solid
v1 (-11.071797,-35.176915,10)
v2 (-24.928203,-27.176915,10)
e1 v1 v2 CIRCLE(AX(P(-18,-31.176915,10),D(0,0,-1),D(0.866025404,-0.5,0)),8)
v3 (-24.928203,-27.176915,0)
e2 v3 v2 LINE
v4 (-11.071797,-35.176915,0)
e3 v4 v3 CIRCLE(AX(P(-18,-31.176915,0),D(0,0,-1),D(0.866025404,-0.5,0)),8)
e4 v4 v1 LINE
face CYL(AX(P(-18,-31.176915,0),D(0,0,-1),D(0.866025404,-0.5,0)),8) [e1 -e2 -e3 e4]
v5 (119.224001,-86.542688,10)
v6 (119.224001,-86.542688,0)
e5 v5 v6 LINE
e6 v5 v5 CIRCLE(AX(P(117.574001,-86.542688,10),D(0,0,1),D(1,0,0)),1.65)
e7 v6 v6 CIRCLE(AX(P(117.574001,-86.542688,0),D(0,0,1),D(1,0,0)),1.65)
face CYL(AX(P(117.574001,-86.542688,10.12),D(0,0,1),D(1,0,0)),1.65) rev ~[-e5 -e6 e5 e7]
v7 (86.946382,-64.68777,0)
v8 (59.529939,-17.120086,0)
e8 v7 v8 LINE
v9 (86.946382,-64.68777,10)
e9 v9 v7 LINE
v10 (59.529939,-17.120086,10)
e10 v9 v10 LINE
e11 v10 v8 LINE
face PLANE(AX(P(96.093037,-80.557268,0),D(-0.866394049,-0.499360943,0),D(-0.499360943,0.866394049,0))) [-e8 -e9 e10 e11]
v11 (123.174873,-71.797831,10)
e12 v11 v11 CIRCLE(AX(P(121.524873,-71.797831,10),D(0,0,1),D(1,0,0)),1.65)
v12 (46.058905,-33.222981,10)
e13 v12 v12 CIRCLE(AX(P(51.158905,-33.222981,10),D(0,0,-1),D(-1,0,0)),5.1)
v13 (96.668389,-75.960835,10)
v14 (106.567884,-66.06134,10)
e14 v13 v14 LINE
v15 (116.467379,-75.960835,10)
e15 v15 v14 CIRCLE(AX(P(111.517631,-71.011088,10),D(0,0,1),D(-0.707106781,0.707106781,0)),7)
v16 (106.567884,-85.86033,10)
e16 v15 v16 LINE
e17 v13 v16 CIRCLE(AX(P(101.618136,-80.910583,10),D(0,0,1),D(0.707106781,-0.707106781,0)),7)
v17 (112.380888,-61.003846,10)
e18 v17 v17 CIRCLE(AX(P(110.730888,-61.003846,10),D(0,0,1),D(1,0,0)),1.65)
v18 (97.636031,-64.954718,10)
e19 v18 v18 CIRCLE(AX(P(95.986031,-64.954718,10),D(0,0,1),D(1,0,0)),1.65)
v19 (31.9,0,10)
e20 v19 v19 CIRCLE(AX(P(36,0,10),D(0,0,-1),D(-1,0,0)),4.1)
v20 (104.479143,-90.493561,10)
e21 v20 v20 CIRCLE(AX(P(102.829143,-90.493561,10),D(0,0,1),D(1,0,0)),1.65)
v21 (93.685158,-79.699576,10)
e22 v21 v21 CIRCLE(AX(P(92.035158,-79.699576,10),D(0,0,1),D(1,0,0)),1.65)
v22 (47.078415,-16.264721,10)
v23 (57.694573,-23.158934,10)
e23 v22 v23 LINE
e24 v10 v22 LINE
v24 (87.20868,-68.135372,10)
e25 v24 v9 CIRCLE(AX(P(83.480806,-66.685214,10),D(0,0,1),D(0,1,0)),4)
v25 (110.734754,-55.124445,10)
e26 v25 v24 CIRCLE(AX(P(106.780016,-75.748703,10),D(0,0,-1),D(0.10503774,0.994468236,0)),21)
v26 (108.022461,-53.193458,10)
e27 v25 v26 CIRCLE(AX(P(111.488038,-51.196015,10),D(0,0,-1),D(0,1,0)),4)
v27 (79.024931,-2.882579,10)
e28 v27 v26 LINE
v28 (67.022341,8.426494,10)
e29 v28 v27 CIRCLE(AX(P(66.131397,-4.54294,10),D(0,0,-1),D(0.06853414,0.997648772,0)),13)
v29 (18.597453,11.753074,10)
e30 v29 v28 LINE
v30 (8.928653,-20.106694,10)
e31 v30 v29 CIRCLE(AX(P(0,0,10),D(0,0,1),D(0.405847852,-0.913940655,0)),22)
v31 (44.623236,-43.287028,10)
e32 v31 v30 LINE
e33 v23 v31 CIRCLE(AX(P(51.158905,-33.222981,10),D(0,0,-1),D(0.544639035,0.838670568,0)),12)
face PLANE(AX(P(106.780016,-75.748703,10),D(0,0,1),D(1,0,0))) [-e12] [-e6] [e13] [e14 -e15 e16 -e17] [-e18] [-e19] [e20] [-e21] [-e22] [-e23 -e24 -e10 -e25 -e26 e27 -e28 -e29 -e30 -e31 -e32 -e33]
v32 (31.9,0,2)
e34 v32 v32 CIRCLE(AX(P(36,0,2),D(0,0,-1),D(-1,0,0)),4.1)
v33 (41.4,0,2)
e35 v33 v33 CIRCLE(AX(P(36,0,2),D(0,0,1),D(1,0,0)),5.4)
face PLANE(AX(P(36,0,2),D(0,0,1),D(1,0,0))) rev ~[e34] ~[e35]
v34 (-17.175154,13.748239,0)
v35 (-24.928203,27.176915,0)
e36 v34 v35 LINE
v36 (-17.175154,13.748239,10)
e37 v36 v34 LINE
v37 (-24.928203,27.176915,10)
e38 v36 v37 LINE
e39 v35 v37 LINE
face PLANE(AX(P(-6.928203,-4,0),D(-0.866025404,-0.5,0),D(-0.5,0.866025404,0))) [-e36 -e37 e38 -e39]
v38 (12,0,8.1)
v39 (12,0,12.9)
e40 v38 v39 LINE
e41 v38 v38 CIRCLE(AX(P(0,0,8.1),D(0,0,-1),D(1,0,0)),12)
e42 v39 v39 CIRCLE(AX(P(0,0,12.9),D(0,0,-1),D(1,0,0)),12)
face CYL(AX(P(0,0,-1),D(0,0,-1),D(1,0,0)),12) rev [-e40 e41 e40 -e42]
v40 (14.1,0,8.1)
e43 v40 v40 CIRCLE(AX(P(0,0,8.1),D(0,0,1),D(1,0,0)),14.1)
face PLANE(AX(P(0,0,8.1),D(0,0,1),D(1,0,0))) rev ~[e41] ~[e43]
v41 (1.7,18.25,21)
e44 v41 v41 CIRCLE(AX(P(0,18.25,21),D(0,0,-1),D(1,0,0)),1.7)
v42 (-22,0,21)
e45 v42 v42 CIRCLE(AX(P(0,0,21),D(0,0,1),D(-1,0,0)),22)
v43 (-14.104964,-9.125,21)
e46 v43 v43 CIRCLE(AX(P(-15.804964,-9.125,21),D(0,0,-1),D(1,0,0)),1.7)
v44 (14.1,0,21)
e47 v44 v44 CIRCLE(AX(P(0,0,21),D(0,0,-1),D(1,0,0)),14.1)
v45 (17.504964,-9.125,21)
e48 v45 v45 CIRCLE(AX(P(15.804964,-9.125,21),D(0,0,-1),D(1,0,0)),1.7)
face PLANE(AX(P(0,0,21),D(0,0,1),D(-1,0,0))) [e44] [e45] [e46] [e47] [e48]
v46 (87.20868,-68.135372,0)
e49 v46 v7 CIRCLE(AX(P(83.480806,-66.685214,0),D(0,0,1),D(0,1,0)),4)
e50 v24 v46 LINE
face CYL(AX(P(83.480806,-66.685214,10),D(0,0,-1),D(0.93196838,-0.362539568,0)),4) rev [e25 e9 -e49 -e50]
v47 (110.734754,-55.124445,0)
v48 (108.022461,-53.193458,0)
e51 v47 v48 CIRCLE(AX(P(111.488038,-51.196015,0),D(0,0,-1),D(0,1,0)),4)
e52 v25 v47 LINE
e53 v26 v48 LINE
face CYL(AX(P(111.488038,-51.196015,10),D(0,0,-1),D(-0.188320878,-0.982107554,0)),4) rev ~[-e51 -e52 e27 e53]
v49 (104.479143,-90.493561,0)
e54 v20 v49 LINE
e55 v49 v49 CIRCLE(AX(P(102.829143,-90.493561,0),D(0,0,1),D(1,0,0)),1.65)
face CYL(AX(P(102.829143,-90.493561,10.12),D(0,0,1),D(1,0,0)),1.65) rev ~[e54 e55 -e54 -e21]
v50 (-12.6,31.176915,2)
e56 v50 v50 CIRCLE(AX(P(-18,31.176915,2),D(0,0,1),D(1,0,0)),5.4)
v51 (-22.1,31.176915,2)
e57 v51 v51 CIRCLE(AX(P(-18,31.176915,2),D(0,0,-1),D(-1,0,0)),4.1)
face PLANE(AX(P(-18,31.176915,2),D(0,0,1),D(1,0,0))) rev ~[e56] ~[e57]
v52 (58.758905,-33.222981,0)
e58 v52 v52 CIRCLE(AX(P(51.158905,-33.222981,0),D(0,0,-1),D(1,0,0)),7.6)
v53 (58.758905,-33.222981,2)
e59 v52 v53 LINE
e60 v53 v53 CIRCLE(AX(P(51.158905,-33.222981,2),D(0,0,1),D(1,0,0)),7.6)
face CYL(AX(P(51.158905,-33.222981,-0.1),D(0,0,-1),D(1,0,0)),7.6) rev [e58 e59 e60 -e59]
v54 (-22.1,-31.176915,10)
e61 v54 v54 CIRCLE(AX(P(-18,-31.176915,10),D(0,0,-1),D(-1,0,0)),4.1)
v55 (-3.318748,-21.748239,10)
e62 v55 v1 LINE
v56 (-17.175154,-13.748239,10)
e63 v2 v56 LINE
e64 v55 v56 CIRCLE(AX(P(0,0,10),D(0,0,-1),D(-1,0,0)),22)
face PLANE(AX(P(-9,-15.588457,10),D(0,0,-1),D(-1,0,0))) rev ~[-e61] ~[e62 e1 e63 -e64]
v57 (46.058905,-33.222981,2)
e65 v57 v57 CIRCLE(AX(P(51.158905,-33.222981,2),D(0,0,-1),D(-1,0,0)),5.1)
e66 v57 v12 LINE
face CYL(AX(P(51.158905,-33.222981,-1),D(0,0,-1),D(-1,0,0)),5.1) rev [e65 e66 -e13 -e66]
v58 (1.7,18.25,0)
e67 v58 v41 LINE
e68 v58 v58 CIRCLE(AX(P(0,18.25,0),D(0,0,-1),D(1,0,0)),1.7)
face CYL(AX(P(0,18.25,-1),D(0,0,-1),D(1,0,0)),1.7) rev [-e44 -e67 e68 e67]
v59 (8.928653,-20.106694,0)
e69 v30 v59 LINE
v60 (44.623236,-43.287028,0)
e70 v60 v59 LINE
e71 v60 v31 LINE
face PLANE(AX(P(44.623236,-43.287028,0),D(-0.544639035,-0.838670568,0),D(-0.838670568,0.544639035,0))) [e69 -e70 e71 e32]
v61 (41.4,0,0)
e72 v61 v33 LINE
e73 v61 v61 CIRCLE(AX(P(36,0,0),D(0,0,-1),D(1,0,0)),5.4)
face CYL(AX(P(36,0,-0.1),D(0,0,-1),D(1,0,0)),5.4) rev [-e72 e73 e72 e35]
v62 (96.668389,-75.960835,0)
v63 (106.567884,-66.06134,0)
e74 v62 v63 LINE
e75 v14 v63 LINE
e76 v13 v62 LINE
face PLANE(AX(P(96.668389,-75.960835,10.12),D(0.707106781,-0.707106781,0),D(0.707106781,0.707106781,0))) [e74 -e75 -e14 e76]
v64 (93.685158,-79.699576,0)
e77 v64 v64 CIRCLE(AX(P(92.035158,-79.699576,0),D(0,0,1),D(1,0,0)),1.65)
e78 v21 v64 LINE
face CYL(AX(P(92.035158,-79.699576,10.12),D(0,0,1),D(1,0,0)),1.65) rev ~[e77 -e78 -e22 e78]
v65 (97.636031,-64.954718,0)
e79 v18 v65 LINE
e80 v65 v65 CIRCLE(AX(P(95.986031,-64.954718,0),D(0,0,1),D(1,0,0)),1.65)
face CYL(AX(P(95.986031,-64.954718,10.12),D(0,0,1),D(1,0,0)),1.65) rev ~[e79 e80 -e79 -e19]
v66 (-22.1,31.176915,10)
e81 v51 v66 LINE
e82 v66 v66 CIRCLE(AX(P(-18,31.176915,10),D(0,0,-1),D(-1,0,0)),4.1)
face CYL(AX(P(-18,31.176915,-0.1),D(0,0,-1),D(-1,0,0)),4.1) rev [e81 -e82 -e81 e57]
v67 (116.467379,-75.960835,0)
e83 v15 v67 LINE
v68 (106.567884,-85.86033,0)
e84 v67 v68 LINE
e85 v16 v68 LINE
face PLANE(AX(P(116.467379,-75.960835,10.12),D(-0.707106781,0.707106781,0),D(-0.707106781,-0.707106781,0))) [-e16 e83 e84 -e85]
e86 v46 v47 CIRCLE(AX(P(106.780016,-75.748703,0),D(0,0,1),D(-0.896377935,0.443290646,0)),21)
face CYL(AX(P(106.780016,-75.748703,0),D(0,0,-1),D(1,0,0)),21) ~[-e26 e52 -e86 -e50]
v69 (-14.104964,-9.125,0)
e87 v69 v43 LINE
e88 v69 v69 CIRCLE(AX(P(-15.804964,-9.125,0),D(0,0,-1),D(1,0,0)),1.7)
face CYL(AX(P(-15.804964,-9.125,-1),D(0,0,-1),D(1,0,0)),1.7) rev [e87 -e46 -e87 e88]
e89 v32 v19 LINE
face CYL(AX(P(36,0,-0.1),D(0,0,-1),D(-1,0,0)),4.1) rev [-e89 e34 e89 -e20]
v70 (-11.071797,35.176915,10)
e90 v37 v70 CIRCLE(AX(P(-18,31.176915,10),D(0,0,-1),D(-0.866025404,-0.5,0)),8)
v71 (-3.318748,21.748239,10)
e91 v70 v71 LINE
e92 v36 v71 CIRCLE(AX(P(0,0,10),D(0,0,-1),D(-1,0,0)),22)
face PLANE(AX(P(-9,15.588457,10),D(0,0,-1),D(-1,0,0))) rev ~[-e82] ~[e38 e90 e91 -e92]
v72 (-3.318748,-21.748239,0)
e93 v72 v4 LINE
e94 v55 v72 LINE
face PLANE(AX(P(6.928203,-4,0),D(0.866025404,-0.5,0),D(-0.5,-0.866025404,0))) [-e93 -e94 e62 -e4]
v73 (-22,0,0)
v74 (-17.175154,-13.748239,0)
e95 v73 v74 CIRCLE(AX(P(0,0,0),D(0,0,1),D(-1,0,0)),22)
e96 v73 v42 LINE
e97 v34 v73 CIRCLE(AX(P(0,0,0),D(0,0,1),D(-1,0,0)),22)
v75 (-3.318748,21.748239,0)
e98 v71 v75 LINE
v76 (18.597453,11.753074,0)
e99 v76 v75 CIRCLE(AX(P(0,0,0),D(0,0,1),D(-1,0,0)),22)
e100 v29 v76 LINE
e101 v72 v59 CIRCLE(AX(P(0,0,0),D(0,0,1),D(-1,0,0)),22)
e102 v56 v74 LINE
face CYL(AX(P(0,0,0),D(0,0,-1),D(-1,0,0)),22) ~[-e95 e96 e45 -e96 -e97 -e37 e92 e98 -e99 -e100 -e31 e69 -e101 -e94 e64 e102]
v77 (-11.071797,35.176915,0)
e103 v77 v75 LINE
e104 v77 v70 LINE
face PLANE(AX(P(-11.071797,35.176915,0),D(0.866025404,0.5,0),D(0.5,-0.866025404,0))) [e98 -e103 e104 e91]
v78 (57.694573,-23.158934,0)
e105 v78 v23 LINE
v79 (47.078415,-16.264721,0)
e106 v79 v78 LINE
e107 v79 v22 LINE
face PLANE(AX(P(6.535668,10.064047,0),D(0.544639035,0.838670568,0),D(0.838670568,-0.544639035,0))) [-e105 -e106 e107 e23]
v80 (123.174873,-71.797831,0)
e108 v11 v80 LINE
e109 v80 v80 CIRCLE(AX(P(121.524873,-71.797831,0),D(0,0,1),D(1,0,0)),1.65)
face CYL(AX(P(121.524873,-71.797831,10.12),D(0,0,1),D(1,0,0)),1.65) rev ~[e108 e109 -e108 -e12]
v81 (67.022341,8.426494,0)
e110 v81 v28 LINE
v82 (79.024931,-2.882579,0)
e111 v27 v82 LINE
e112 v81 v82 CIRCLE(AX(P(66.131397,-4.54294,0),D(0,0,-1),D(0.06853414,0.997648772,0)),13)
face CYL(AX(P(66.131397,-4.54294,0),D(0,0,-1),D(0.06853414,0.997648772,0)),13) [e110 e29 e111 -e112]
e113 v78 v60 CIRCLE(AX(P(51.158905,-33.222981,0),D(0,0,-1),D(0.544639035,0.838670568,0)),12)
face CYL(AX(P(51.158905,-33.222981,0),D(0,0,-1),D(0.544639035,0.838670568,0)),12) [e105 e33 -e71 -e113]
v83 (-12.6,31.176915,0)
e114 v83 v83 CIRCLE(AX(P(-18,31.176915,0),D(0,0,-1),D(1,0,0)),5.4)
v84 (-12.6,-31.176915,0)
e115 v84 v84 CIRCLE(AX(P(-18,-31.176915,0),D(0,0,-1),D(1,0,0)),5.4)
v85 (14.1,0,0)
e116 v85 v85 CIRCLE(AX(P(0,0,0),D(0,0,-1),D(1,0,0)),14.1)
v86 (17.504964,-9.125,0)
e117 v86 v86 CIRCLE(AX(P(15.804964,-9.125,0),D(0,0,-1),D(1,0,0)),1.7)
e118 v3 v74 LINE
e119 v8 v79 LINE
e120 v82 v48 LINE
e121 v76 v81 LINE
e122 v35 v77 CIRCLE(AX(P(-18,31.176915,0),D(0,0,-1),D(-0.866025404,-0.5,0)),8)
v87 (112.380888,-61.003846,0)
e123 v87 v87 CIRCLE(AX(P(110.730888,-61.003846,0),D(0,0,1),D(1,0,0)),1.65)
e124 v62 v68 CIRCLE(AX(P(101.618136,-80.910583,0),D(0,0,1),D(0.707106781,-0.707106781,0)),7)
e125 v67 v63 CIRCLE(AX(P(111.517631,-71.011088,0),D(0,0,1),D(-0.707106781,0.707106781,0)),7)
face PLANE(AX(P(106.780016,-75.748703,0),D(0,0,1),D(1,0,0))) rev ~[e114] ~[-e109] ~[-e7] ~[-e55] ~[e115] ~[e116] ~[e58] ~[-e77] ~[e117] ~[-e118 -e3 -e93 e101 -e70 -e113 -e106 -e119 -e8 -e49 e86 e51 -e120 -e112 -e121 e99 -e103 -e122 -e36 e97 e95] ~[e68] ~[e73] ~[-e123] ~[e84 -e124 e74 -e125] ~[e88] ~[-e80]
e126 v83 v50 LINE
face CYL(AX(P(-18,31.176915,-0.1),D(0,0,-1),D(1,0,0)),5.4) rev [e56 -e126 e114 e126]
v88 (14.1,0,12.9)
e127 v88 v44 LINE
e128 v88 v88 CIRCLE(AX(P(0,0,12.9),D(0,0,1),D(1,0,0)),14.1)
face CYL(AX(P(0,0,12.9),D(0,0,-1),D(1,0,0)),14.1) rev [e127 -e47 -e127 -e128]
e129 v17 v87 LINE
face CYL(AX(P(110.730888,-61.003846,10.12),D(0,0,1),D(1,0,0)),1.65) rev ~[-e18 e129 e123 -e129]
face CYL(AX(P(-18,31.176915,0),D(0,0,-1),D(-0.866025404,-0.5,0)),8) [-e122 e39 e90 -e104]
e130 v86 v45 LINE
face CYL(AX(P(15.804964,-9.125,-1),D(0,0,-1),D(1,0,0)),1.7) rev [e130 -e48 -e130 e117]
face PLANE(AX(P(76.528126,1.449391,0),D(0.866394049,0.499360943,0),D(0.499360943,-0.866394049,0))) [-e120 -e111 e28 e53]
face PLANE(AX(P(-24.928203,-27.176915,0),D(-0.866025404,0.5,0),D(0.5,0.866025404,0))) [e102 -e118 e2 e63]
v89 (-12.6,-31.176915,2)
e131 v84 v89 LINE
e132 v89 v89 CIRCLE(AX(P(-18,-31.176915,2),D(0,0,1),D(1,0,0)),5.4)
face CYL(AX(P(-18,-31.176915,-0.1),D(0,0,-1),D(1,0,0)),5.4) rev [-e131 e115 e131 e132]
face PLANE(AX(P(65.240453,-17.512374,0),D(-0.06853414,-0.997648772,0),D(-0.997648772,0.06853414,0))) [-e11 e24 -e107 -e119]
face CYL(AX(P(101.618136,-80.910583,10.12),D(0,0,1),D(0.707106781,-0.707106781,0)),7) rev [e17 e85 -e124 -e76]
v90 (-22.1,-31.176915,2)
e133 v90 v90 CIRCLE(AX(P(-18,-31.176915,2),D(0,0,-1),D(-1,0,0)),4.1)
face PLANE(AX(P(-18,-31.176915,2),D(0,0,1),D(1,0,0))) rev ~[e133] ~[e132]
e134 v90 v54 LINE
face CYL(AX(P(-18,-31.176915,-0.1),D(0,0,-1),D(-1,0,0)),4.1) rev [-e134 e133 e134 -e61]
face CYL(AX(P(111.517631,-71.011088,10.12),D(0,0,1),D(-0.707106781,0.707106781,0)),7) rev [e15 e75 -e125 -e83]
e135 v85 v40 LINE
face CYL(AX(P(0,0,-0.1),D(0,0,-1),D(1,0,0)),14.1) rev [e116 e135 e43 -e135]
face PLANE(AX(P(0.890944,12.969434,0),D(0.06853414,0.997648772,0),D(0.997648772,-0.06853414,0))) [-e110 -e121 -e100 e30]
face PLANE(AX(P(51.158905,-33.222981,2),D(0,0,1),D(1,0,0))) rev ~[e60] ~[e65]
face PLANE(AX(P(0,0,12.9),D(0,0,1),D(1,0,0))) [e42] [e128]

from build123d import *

# Parameters (mm, degrees)
S01_BEARING_BARREL_R                             = 22
F_01_BEARING_BARREL_DEPTH                        = 21
F_02_TORQUE_ARM_1_DEPTH                          = 10
F_03_TORQUE_ARM_2_DEPTH                          = 10
F_04_TORQUE_ARM_3_DEPTH                          = 10
F_05_WHEEL_ARM_ROOT_TO_ROUNDED_ELBOW_DEPTH       = 10
F_06_LONG_DROPPED_WHEEL_ARM_DEPTH                = 10
F_07_BROAD_CAM_FOLLOWER_MOUNTING_LUG_DEPTH       = 10
F_08_START                                       = -1
S08_BEARING_THROUGH_RELIEF_R                     = 12
F_08_BEARING_THROUGH_RELIEF_DEPTH                = 23
F_09_START                                       = -0.1
S09_INBOARD_6001_SEAT_R                          = 14.1
F_09_INBOARD_6001_SEAT_DEPTH                     = 8.2
F_10_START                                       = 12.9
S10_OUTBOARD_6001_SEAT_R                         = 14.1
F_10_OUTBOARD_6001_SEAT_DEPTH                    = 8.2
F_11_START                                       = -1
S11_KEEPER_SCREWS_R                              = 1.7
F_11_KEEPER_SCREWS_DEPTH                         = 23
F_12_START                                       = -1
S12_TORQUE_PIN_RETAINING_STEMS_R                 = 3.25
F_12_TORQUE_PIN_RETAINING_STEMS_DEPTH            = 12
F_19_START                                       = -1
S19_THROUGH_BORE_FOR_STEEL_FOLLOWER_BU_R         = 5.1
F_19_THROUGH_BORE_FOR_STEEL_FOLLOWER_BUS_DEPTH   = 12
F_20_START                                       = -0.1
S20_FLUSH_SEAT_FOR_BUSH_FLANGE_R                 = 7.6
F_20_FLUSH_SEAT_FOR_BUSH_FLANGE_DEPTH            = 2.1
FLAT_MOTOR_MOUNTING_PAD_LAYOUT_R                 = 21
FLAT_MOTOR_MOUNTING_PAD_DEPTH                    = 10
R4_BLENDS_FROM_ARM_INTO_MOTOR_PAD_R              = 4
F_28_START                                       = 10.12
F_28_X_14_CLOSED_THROUGH_SLOT_FOR_MOTOR_OU_DEPTH = 10.24
SIX_START                                        = 10.12
SIX_CLEARANCE_HOLES_FROM_JOHNSON_MOT_2_R         = 1.65
SIX_CLEARANCE_HOLES_FROM_JOHNSON_MOTOR_F_DEPTH   = 10.24
F_01_START                                       = -0.1
S01_PRINTED_DRIVE_PIN_PILOT_BORES_R              = 4.1
F_01_PRINTED_DRIVE_PIN_PILOT_BORES_DEPTH         = 10.2
F_02_START                                       = -0.1
S02_FLUSH_SEATS_FOR_DRIVE_PIN_SHOULDER_R         = 5.4
F_02_FLUSH_SEATS_FOR_DRIVE_PIN_SHOULDERS_DEPTH   = 2.1


with BuildPart() as part:
    # S01 - Bearing barrel → 01 - Bearing barrel (new body)
    with BuildSketch(Plane.XY):
        Circle(S01_BEARING_BARREL_R)
    extrude(amount=F_01_BEARING_BARREL_DEPTH)

    # S02 - Torque arm 1 → 02 - Torque arm 1 (add)
    with BuildSketch(Plane.XY):
        with BuildLine():
            Line((0, 8), (36, 8))
            ThreePointArc((36, 8), (44, 0), (36, -8))
            Line((36, -8), (0, -8))
            ThreePointArc((0, -8), (-8, 0), (0, 8))
        make_face()
    extrude(amount=F_02_TORQUE_ARM_1_DEPTH)

    # S03 - Torque arm 2 → 03 - Torque arm 2 (add)
    with BuildSketch(Plane.XY):
        with BuildLine():
            Line((-6.92820323, -4), (-24.92820323, 27.176914536))
            ThreePointArc((-24.92820323, 27.176914536), (-22, 38.105117767), (-11.07179677, 35.176914536))
            Line((-11.07179677, 35.176914536), (6.92820323, 4))
            ThreePointArc((6.92820323, 4), (4, -6.92820323), (-6.92820323, -4))
        make_face()
    extrude(amount=F_03_TORQUE_ARM_2_DEPTH)

    # S04 - Torque arm 3 → 04 - Torque arm 3 (add)
    with BuildSketch(Plane.XY):
        with BuildLine():
            Line((6.92820323, -4), (-11.07179677, -35.176914536))
            ThreePointArc((-11.07179677, -35.176914536), (-22, -38.105117767), (-24.92820323, -27.176914536))
            Line((-24.92820323, -27.176914536), (-6.92820323, 4))
            ThreePointArc((-6.92820323, 4), (4, 6.92820323), (6.92820323, -4))
        make_face()
    extrude(amount=F_04_TORQUE_ARM_3_DEPTH)

    # S05 - Wheel arm root to rounded elbow → 05 - Wheel arm root to rounded elbow (add)
    with BuildSketch(Plane.XY):
        with BuildLine():
            Line((0.890943823, 12.969434032), (67.022341031, 8.426494092))
            ThreePointArc((67.022341031, 8.426494092), (79.10083124, -5.433883763), (65.240453385, -17.512373972))
            Line((65.240453385, -17.512373972), (-0.890943823, -12.969434032))
            ThreePointArc((-0.890943823, -12.969434032), (-12.969434032, 0.890943823), (0.890943823, 12.969434032))
        make_face()
    extrude(amount=F_05_WHEEL_ARM_ROOT_TO_ROUNDED_ELBOW_DEPTH)

    # S06 - Long dropped wheel arm → 06 - Long dropped wheel arm (add)
    with BuildSketch(Plane.XY):
        with BuildLine():
            Line((76.528125799, 1.449391376), (116.886494349, -68.572605409))
            ThreePointArc((116.886494349, -68.572605409), (112.482097074, -84.961665317), (96.093037167, -80.557268042))
            Line((96.093037167, -80.557268042), (55.734668617, -10.535271257))
            ThreePointArc((55.734668617, -10.535271257), (60.139065892, 5.853788651), (76.528125799, 1.449391376))
        make_face()
    extrude(amount=F_06_LONG_DROPPED_WHEEL_ARM_DEPTH)

    # S07 - Broad cam follower mounting lug → 07 - Broad cam follower mounting lug (add)
    with BuildSketch(Plane.XY):
        with BuildLine():
            Line((6.53566842, 10.064046815), (57.694573065, -23.158934321))
            ThreePointArc((57.694573065, -23.158934321), (61.22295146, -39.758649556), (44.623236224, -43.287027951))
            Line((44.623236224, -43.287027951), (-6.53566842, -10.064046815))
            ThreePointArc((-6.53566842, -10.064046815), (-10.064046815, 6.53566842), (6.53566842, 10.064046815))
        make_face()
    extrude(amount=F_07_BROAD_CAM_FOLLOWER_MOUNTING_LUG_DEPTH)

    # S08 - Bearing through relief → 08 - Bearing through relief (cut)
    with BuildSketch(Plane.XY.offset(F_08_START)):
        Circle(S08_BEARING_THROUGH_RELIEF_R)
    extrude(amount=F_08_BEARING_THROUGH_RELIEF_DEPTH, mode=Mode.SUBTRACT)

    # S09 - Inboard 6001 seat → 09 - Inboard 6001 seat (cut)
    with BuildSketch(Plane.XY.offset(F_09_START)):
        Circle(S09_INBOARD_6001_SEAT_R)
    extrude(amount=F_09_INBOARD_6001_SEAT_DEPTH, mode=Mode.SUBTRACT)

    # S10 - Outboard 6001 seat → 10 - Outboard 6001 seat (cut)
    with BuildSketch(Plane.XY.offset(F_10_START)):
        Circle(S10_OUTBOARD_6001_SEAT_R)
    extrude(amount=F_10_OUTBOARD_6001_SEAT_DEPTH, mode=Mode.SUBTRACT)

    # S11 - Keeper screws → 11 - Keeper screws (cut)
    with BuildSketch(Plane.XY.offset(F_11_START)):
        with Locations((0, 18.25)):
            Circle(S11_KEEPER_SCREWS_R)
        with Locations((-15.804963619, -9.125)):
            Circle(S11_KEEPER_SCREWS_R)
        with Locations((15.804963619, -9.125)):
            Circle(S11_KEEPER_SCREWS_R)
    extrude(amount=F_11_KEEPER_SCREWS_DEPTH, mode=Mode.SUBTRACT)

    # S12 - Torque pin retaining stems → 12 - Torque pin retaining stems (cut)
    with BuildSketch(Plane.XY.offset(F_12_START)):
        with Locations((36, 0)):
            Circle(S12_TORQUE_PIN_RETAINING_STEMS_R)
        with Locations((-18, 31.176914536)):
            Circle(S12_TORQUE_PIN_RETAINING_STEMS_R)
        with Locations((-18, -31.176914536)):
            Circle(S12_TORQUE_PIN_RETAINING_STEMS_R)
    extrude(amount=F_12_TORQUE_PIN_RETAINING_STEMS_DEPTH, mode=Mode.SUBTRACT)

    # S19 - Through bore for steel follower bush → 19 - Through bore for steel follower bush (cut)
    with BuildSketch(Plane.XY.offset(F_19_START)):
        with Locations((51.158904645, -33.222981136)):
            Circle(S19_THROUGH_BORE_FOR_STEEL_FOLLOWER_BU_R)
    extrude(amount=F_19_THROUGH_BORE_FOR_STEEL_FOLLOWER_BUS_DEPTH, mode=Mode.SUBTRACT)

    # S20 - Flush seat for bush flange → 20 - Flush seat for bush flange (cut)
    with BuildSketch(Plane.XY.offset(F_20_START)):
        with Locations((51.158904645, -33.222981136)):
            Circle(S20_FLUSH_SEAT_FOR_BUSH_FLANGE_R)
    extrude(amount=F_20_FLUSH_SEAT_FOR_BUSH_FLANGE_DEPTH, mode=Mode.SUBTRACT)

    # Flat motor mounting pad layout → Flat motor mounting pad (add)
    with BuildSketch(Plane.XY):
        with Locations((106.780015642, -75.748703358)):
            Circle(FLAT_MOTOR_MOUNTING_PAD_LAYOUT_R)
    extrude(amount=FLAT_MOTOR_MOUNTING_PAD_DEPTH)

    # R4 blends from arm into motor pad
    r4_blends_from_arm_into_motor_pad_edges = [part.edges().sort_by_distance(p)[0] for p in [
        (87.956079001, -66.439599786, 5),
        (108.985808176, -54.864870393, 5),
    ]]
    fillet(r4_blends_from_arm_into_motor_pad_edges, radius=R4_BLENDS_FROM_ARM_INTO_MOTOR_PAD_R)

    # Original round-ended output slot layout → 28 x 14 closed through slot for motor output (cut)
    with BuildSketch(Plane.XY.offset(F_28_START)):
        with BuildLine():
            Line((96.668388671, -75.960835392), (106.567883608, -66.061340455))
            ThreePointArc((106.567883608, -66.061340455), (116.467378544, -66.061340455), (116.467378544, -75.960835392))
            Line((116.467378544, -75.960835392), (106.567883608, -85.860330328))
            ThreePointArc((106.567883608, -85.860330328), (96.668388671, -85.860330328), (96.668388671, -75.960835392))
        make_face()
    extrude(amount=-F_28_X_14_CLOSED_THROUGH_SLOT_FOR_MOTOR_OU_DEPTH, mode=Mode.SUBTRACT)

    # Six clearance holes from Johnson mot 2 → Six clearance holes from Johnson motor f (cut)
    with BuildSketch(Plane.XY.offset(SIX_START)):
        with Locations((92.035157904, -79.699576081)):
            Circle(SIX_CLEARANCE_HOLES_FROM_JOHNSON_MOT_2_R)
        with Locations((102.829142919, -90.493561096)):
            Circle(SIX_CLEARANCE_HOLES_FROM_JOHNSON_MOT_2_R)
        with Locations((117.574000657, -86.542688372)):
            Circle(SIX_CLEARANCE_HOLES_FROM_JOHNSON_MOT_2_R)
        with Locations((121.52487338, -71.797830634)):
            Circle(SIX_CLEARANCE_HOLES_FROM_JOHNSON_MOT_2_R)
        with Locations((110.730888366, -61.003845619)):
            Circle(SIX_CLEARANCE_HOLES_FROM_JOHNSON_MOT_2_R)
        with Locations((95.986030627, -64.954718343)):
            Circle(SIX_CLEARANCE_HOLES_FROM_JOHNSON_MOT_2_R)
    extrude(amount=-SIX_CLEARANCE_HOLES_FROM_JOHNSON_MOTOR_F_DEPTH, mode=Mode.SUBTRACT)

    # S01 - Printed drive pin pilot bores → 01 - Printed drive pin pilot bores (cut)
    with BuildSketch(Plane.XY.offset(F_01_START)):
        with Locations((36, 0)):
            Circle(S01_PRINTED_DRIVE_PIN_PILOT_BORES_R)
        with Locations((-18, 31.176914536)):
            Circle(S01_PRINTED_DRIVE_PIN_PILOT_BORES_R)
        with Locations((-18, -31.176914536)):
            Circle(S01_PRINTED_DRIVE_PIN_PILOT_BORES_R)
    extrude(amount=F_01_PRINTED_DRIVE_PIN_PILOT_BORES_DEPTH, mode=Mode.SUBTRACT)

    # S02 - Flush seats for drive pin shoulders → 02 - Flush seats for drive pin shoulders (cut)
    with BuildSketch(Plane.XY.offset(F_02_START)):
        with Locations((36, 0)):
            Circle(S02_FLUSH_SEATS_FOR_DRIVE_PIN_SHOULDER_R)
        with Locations((-18, 31.176914536)):
            Circle(S02_FLUSH_SEATS_FOR_DRIVE_PIN_SHOULDER_R)
        with Locations((-18, -31.176914536)):
            Circle(S02_FLUSH_SEATS_FOR_DRIVE_PIN_SHOULDER_R)
    extrude(amount=F_02_FLUSH_SEATS_FOR_DRIVE_PIN_SHOULDERS_DEPTH, mode=Mode.SUBTRACT)


solid = part.part
